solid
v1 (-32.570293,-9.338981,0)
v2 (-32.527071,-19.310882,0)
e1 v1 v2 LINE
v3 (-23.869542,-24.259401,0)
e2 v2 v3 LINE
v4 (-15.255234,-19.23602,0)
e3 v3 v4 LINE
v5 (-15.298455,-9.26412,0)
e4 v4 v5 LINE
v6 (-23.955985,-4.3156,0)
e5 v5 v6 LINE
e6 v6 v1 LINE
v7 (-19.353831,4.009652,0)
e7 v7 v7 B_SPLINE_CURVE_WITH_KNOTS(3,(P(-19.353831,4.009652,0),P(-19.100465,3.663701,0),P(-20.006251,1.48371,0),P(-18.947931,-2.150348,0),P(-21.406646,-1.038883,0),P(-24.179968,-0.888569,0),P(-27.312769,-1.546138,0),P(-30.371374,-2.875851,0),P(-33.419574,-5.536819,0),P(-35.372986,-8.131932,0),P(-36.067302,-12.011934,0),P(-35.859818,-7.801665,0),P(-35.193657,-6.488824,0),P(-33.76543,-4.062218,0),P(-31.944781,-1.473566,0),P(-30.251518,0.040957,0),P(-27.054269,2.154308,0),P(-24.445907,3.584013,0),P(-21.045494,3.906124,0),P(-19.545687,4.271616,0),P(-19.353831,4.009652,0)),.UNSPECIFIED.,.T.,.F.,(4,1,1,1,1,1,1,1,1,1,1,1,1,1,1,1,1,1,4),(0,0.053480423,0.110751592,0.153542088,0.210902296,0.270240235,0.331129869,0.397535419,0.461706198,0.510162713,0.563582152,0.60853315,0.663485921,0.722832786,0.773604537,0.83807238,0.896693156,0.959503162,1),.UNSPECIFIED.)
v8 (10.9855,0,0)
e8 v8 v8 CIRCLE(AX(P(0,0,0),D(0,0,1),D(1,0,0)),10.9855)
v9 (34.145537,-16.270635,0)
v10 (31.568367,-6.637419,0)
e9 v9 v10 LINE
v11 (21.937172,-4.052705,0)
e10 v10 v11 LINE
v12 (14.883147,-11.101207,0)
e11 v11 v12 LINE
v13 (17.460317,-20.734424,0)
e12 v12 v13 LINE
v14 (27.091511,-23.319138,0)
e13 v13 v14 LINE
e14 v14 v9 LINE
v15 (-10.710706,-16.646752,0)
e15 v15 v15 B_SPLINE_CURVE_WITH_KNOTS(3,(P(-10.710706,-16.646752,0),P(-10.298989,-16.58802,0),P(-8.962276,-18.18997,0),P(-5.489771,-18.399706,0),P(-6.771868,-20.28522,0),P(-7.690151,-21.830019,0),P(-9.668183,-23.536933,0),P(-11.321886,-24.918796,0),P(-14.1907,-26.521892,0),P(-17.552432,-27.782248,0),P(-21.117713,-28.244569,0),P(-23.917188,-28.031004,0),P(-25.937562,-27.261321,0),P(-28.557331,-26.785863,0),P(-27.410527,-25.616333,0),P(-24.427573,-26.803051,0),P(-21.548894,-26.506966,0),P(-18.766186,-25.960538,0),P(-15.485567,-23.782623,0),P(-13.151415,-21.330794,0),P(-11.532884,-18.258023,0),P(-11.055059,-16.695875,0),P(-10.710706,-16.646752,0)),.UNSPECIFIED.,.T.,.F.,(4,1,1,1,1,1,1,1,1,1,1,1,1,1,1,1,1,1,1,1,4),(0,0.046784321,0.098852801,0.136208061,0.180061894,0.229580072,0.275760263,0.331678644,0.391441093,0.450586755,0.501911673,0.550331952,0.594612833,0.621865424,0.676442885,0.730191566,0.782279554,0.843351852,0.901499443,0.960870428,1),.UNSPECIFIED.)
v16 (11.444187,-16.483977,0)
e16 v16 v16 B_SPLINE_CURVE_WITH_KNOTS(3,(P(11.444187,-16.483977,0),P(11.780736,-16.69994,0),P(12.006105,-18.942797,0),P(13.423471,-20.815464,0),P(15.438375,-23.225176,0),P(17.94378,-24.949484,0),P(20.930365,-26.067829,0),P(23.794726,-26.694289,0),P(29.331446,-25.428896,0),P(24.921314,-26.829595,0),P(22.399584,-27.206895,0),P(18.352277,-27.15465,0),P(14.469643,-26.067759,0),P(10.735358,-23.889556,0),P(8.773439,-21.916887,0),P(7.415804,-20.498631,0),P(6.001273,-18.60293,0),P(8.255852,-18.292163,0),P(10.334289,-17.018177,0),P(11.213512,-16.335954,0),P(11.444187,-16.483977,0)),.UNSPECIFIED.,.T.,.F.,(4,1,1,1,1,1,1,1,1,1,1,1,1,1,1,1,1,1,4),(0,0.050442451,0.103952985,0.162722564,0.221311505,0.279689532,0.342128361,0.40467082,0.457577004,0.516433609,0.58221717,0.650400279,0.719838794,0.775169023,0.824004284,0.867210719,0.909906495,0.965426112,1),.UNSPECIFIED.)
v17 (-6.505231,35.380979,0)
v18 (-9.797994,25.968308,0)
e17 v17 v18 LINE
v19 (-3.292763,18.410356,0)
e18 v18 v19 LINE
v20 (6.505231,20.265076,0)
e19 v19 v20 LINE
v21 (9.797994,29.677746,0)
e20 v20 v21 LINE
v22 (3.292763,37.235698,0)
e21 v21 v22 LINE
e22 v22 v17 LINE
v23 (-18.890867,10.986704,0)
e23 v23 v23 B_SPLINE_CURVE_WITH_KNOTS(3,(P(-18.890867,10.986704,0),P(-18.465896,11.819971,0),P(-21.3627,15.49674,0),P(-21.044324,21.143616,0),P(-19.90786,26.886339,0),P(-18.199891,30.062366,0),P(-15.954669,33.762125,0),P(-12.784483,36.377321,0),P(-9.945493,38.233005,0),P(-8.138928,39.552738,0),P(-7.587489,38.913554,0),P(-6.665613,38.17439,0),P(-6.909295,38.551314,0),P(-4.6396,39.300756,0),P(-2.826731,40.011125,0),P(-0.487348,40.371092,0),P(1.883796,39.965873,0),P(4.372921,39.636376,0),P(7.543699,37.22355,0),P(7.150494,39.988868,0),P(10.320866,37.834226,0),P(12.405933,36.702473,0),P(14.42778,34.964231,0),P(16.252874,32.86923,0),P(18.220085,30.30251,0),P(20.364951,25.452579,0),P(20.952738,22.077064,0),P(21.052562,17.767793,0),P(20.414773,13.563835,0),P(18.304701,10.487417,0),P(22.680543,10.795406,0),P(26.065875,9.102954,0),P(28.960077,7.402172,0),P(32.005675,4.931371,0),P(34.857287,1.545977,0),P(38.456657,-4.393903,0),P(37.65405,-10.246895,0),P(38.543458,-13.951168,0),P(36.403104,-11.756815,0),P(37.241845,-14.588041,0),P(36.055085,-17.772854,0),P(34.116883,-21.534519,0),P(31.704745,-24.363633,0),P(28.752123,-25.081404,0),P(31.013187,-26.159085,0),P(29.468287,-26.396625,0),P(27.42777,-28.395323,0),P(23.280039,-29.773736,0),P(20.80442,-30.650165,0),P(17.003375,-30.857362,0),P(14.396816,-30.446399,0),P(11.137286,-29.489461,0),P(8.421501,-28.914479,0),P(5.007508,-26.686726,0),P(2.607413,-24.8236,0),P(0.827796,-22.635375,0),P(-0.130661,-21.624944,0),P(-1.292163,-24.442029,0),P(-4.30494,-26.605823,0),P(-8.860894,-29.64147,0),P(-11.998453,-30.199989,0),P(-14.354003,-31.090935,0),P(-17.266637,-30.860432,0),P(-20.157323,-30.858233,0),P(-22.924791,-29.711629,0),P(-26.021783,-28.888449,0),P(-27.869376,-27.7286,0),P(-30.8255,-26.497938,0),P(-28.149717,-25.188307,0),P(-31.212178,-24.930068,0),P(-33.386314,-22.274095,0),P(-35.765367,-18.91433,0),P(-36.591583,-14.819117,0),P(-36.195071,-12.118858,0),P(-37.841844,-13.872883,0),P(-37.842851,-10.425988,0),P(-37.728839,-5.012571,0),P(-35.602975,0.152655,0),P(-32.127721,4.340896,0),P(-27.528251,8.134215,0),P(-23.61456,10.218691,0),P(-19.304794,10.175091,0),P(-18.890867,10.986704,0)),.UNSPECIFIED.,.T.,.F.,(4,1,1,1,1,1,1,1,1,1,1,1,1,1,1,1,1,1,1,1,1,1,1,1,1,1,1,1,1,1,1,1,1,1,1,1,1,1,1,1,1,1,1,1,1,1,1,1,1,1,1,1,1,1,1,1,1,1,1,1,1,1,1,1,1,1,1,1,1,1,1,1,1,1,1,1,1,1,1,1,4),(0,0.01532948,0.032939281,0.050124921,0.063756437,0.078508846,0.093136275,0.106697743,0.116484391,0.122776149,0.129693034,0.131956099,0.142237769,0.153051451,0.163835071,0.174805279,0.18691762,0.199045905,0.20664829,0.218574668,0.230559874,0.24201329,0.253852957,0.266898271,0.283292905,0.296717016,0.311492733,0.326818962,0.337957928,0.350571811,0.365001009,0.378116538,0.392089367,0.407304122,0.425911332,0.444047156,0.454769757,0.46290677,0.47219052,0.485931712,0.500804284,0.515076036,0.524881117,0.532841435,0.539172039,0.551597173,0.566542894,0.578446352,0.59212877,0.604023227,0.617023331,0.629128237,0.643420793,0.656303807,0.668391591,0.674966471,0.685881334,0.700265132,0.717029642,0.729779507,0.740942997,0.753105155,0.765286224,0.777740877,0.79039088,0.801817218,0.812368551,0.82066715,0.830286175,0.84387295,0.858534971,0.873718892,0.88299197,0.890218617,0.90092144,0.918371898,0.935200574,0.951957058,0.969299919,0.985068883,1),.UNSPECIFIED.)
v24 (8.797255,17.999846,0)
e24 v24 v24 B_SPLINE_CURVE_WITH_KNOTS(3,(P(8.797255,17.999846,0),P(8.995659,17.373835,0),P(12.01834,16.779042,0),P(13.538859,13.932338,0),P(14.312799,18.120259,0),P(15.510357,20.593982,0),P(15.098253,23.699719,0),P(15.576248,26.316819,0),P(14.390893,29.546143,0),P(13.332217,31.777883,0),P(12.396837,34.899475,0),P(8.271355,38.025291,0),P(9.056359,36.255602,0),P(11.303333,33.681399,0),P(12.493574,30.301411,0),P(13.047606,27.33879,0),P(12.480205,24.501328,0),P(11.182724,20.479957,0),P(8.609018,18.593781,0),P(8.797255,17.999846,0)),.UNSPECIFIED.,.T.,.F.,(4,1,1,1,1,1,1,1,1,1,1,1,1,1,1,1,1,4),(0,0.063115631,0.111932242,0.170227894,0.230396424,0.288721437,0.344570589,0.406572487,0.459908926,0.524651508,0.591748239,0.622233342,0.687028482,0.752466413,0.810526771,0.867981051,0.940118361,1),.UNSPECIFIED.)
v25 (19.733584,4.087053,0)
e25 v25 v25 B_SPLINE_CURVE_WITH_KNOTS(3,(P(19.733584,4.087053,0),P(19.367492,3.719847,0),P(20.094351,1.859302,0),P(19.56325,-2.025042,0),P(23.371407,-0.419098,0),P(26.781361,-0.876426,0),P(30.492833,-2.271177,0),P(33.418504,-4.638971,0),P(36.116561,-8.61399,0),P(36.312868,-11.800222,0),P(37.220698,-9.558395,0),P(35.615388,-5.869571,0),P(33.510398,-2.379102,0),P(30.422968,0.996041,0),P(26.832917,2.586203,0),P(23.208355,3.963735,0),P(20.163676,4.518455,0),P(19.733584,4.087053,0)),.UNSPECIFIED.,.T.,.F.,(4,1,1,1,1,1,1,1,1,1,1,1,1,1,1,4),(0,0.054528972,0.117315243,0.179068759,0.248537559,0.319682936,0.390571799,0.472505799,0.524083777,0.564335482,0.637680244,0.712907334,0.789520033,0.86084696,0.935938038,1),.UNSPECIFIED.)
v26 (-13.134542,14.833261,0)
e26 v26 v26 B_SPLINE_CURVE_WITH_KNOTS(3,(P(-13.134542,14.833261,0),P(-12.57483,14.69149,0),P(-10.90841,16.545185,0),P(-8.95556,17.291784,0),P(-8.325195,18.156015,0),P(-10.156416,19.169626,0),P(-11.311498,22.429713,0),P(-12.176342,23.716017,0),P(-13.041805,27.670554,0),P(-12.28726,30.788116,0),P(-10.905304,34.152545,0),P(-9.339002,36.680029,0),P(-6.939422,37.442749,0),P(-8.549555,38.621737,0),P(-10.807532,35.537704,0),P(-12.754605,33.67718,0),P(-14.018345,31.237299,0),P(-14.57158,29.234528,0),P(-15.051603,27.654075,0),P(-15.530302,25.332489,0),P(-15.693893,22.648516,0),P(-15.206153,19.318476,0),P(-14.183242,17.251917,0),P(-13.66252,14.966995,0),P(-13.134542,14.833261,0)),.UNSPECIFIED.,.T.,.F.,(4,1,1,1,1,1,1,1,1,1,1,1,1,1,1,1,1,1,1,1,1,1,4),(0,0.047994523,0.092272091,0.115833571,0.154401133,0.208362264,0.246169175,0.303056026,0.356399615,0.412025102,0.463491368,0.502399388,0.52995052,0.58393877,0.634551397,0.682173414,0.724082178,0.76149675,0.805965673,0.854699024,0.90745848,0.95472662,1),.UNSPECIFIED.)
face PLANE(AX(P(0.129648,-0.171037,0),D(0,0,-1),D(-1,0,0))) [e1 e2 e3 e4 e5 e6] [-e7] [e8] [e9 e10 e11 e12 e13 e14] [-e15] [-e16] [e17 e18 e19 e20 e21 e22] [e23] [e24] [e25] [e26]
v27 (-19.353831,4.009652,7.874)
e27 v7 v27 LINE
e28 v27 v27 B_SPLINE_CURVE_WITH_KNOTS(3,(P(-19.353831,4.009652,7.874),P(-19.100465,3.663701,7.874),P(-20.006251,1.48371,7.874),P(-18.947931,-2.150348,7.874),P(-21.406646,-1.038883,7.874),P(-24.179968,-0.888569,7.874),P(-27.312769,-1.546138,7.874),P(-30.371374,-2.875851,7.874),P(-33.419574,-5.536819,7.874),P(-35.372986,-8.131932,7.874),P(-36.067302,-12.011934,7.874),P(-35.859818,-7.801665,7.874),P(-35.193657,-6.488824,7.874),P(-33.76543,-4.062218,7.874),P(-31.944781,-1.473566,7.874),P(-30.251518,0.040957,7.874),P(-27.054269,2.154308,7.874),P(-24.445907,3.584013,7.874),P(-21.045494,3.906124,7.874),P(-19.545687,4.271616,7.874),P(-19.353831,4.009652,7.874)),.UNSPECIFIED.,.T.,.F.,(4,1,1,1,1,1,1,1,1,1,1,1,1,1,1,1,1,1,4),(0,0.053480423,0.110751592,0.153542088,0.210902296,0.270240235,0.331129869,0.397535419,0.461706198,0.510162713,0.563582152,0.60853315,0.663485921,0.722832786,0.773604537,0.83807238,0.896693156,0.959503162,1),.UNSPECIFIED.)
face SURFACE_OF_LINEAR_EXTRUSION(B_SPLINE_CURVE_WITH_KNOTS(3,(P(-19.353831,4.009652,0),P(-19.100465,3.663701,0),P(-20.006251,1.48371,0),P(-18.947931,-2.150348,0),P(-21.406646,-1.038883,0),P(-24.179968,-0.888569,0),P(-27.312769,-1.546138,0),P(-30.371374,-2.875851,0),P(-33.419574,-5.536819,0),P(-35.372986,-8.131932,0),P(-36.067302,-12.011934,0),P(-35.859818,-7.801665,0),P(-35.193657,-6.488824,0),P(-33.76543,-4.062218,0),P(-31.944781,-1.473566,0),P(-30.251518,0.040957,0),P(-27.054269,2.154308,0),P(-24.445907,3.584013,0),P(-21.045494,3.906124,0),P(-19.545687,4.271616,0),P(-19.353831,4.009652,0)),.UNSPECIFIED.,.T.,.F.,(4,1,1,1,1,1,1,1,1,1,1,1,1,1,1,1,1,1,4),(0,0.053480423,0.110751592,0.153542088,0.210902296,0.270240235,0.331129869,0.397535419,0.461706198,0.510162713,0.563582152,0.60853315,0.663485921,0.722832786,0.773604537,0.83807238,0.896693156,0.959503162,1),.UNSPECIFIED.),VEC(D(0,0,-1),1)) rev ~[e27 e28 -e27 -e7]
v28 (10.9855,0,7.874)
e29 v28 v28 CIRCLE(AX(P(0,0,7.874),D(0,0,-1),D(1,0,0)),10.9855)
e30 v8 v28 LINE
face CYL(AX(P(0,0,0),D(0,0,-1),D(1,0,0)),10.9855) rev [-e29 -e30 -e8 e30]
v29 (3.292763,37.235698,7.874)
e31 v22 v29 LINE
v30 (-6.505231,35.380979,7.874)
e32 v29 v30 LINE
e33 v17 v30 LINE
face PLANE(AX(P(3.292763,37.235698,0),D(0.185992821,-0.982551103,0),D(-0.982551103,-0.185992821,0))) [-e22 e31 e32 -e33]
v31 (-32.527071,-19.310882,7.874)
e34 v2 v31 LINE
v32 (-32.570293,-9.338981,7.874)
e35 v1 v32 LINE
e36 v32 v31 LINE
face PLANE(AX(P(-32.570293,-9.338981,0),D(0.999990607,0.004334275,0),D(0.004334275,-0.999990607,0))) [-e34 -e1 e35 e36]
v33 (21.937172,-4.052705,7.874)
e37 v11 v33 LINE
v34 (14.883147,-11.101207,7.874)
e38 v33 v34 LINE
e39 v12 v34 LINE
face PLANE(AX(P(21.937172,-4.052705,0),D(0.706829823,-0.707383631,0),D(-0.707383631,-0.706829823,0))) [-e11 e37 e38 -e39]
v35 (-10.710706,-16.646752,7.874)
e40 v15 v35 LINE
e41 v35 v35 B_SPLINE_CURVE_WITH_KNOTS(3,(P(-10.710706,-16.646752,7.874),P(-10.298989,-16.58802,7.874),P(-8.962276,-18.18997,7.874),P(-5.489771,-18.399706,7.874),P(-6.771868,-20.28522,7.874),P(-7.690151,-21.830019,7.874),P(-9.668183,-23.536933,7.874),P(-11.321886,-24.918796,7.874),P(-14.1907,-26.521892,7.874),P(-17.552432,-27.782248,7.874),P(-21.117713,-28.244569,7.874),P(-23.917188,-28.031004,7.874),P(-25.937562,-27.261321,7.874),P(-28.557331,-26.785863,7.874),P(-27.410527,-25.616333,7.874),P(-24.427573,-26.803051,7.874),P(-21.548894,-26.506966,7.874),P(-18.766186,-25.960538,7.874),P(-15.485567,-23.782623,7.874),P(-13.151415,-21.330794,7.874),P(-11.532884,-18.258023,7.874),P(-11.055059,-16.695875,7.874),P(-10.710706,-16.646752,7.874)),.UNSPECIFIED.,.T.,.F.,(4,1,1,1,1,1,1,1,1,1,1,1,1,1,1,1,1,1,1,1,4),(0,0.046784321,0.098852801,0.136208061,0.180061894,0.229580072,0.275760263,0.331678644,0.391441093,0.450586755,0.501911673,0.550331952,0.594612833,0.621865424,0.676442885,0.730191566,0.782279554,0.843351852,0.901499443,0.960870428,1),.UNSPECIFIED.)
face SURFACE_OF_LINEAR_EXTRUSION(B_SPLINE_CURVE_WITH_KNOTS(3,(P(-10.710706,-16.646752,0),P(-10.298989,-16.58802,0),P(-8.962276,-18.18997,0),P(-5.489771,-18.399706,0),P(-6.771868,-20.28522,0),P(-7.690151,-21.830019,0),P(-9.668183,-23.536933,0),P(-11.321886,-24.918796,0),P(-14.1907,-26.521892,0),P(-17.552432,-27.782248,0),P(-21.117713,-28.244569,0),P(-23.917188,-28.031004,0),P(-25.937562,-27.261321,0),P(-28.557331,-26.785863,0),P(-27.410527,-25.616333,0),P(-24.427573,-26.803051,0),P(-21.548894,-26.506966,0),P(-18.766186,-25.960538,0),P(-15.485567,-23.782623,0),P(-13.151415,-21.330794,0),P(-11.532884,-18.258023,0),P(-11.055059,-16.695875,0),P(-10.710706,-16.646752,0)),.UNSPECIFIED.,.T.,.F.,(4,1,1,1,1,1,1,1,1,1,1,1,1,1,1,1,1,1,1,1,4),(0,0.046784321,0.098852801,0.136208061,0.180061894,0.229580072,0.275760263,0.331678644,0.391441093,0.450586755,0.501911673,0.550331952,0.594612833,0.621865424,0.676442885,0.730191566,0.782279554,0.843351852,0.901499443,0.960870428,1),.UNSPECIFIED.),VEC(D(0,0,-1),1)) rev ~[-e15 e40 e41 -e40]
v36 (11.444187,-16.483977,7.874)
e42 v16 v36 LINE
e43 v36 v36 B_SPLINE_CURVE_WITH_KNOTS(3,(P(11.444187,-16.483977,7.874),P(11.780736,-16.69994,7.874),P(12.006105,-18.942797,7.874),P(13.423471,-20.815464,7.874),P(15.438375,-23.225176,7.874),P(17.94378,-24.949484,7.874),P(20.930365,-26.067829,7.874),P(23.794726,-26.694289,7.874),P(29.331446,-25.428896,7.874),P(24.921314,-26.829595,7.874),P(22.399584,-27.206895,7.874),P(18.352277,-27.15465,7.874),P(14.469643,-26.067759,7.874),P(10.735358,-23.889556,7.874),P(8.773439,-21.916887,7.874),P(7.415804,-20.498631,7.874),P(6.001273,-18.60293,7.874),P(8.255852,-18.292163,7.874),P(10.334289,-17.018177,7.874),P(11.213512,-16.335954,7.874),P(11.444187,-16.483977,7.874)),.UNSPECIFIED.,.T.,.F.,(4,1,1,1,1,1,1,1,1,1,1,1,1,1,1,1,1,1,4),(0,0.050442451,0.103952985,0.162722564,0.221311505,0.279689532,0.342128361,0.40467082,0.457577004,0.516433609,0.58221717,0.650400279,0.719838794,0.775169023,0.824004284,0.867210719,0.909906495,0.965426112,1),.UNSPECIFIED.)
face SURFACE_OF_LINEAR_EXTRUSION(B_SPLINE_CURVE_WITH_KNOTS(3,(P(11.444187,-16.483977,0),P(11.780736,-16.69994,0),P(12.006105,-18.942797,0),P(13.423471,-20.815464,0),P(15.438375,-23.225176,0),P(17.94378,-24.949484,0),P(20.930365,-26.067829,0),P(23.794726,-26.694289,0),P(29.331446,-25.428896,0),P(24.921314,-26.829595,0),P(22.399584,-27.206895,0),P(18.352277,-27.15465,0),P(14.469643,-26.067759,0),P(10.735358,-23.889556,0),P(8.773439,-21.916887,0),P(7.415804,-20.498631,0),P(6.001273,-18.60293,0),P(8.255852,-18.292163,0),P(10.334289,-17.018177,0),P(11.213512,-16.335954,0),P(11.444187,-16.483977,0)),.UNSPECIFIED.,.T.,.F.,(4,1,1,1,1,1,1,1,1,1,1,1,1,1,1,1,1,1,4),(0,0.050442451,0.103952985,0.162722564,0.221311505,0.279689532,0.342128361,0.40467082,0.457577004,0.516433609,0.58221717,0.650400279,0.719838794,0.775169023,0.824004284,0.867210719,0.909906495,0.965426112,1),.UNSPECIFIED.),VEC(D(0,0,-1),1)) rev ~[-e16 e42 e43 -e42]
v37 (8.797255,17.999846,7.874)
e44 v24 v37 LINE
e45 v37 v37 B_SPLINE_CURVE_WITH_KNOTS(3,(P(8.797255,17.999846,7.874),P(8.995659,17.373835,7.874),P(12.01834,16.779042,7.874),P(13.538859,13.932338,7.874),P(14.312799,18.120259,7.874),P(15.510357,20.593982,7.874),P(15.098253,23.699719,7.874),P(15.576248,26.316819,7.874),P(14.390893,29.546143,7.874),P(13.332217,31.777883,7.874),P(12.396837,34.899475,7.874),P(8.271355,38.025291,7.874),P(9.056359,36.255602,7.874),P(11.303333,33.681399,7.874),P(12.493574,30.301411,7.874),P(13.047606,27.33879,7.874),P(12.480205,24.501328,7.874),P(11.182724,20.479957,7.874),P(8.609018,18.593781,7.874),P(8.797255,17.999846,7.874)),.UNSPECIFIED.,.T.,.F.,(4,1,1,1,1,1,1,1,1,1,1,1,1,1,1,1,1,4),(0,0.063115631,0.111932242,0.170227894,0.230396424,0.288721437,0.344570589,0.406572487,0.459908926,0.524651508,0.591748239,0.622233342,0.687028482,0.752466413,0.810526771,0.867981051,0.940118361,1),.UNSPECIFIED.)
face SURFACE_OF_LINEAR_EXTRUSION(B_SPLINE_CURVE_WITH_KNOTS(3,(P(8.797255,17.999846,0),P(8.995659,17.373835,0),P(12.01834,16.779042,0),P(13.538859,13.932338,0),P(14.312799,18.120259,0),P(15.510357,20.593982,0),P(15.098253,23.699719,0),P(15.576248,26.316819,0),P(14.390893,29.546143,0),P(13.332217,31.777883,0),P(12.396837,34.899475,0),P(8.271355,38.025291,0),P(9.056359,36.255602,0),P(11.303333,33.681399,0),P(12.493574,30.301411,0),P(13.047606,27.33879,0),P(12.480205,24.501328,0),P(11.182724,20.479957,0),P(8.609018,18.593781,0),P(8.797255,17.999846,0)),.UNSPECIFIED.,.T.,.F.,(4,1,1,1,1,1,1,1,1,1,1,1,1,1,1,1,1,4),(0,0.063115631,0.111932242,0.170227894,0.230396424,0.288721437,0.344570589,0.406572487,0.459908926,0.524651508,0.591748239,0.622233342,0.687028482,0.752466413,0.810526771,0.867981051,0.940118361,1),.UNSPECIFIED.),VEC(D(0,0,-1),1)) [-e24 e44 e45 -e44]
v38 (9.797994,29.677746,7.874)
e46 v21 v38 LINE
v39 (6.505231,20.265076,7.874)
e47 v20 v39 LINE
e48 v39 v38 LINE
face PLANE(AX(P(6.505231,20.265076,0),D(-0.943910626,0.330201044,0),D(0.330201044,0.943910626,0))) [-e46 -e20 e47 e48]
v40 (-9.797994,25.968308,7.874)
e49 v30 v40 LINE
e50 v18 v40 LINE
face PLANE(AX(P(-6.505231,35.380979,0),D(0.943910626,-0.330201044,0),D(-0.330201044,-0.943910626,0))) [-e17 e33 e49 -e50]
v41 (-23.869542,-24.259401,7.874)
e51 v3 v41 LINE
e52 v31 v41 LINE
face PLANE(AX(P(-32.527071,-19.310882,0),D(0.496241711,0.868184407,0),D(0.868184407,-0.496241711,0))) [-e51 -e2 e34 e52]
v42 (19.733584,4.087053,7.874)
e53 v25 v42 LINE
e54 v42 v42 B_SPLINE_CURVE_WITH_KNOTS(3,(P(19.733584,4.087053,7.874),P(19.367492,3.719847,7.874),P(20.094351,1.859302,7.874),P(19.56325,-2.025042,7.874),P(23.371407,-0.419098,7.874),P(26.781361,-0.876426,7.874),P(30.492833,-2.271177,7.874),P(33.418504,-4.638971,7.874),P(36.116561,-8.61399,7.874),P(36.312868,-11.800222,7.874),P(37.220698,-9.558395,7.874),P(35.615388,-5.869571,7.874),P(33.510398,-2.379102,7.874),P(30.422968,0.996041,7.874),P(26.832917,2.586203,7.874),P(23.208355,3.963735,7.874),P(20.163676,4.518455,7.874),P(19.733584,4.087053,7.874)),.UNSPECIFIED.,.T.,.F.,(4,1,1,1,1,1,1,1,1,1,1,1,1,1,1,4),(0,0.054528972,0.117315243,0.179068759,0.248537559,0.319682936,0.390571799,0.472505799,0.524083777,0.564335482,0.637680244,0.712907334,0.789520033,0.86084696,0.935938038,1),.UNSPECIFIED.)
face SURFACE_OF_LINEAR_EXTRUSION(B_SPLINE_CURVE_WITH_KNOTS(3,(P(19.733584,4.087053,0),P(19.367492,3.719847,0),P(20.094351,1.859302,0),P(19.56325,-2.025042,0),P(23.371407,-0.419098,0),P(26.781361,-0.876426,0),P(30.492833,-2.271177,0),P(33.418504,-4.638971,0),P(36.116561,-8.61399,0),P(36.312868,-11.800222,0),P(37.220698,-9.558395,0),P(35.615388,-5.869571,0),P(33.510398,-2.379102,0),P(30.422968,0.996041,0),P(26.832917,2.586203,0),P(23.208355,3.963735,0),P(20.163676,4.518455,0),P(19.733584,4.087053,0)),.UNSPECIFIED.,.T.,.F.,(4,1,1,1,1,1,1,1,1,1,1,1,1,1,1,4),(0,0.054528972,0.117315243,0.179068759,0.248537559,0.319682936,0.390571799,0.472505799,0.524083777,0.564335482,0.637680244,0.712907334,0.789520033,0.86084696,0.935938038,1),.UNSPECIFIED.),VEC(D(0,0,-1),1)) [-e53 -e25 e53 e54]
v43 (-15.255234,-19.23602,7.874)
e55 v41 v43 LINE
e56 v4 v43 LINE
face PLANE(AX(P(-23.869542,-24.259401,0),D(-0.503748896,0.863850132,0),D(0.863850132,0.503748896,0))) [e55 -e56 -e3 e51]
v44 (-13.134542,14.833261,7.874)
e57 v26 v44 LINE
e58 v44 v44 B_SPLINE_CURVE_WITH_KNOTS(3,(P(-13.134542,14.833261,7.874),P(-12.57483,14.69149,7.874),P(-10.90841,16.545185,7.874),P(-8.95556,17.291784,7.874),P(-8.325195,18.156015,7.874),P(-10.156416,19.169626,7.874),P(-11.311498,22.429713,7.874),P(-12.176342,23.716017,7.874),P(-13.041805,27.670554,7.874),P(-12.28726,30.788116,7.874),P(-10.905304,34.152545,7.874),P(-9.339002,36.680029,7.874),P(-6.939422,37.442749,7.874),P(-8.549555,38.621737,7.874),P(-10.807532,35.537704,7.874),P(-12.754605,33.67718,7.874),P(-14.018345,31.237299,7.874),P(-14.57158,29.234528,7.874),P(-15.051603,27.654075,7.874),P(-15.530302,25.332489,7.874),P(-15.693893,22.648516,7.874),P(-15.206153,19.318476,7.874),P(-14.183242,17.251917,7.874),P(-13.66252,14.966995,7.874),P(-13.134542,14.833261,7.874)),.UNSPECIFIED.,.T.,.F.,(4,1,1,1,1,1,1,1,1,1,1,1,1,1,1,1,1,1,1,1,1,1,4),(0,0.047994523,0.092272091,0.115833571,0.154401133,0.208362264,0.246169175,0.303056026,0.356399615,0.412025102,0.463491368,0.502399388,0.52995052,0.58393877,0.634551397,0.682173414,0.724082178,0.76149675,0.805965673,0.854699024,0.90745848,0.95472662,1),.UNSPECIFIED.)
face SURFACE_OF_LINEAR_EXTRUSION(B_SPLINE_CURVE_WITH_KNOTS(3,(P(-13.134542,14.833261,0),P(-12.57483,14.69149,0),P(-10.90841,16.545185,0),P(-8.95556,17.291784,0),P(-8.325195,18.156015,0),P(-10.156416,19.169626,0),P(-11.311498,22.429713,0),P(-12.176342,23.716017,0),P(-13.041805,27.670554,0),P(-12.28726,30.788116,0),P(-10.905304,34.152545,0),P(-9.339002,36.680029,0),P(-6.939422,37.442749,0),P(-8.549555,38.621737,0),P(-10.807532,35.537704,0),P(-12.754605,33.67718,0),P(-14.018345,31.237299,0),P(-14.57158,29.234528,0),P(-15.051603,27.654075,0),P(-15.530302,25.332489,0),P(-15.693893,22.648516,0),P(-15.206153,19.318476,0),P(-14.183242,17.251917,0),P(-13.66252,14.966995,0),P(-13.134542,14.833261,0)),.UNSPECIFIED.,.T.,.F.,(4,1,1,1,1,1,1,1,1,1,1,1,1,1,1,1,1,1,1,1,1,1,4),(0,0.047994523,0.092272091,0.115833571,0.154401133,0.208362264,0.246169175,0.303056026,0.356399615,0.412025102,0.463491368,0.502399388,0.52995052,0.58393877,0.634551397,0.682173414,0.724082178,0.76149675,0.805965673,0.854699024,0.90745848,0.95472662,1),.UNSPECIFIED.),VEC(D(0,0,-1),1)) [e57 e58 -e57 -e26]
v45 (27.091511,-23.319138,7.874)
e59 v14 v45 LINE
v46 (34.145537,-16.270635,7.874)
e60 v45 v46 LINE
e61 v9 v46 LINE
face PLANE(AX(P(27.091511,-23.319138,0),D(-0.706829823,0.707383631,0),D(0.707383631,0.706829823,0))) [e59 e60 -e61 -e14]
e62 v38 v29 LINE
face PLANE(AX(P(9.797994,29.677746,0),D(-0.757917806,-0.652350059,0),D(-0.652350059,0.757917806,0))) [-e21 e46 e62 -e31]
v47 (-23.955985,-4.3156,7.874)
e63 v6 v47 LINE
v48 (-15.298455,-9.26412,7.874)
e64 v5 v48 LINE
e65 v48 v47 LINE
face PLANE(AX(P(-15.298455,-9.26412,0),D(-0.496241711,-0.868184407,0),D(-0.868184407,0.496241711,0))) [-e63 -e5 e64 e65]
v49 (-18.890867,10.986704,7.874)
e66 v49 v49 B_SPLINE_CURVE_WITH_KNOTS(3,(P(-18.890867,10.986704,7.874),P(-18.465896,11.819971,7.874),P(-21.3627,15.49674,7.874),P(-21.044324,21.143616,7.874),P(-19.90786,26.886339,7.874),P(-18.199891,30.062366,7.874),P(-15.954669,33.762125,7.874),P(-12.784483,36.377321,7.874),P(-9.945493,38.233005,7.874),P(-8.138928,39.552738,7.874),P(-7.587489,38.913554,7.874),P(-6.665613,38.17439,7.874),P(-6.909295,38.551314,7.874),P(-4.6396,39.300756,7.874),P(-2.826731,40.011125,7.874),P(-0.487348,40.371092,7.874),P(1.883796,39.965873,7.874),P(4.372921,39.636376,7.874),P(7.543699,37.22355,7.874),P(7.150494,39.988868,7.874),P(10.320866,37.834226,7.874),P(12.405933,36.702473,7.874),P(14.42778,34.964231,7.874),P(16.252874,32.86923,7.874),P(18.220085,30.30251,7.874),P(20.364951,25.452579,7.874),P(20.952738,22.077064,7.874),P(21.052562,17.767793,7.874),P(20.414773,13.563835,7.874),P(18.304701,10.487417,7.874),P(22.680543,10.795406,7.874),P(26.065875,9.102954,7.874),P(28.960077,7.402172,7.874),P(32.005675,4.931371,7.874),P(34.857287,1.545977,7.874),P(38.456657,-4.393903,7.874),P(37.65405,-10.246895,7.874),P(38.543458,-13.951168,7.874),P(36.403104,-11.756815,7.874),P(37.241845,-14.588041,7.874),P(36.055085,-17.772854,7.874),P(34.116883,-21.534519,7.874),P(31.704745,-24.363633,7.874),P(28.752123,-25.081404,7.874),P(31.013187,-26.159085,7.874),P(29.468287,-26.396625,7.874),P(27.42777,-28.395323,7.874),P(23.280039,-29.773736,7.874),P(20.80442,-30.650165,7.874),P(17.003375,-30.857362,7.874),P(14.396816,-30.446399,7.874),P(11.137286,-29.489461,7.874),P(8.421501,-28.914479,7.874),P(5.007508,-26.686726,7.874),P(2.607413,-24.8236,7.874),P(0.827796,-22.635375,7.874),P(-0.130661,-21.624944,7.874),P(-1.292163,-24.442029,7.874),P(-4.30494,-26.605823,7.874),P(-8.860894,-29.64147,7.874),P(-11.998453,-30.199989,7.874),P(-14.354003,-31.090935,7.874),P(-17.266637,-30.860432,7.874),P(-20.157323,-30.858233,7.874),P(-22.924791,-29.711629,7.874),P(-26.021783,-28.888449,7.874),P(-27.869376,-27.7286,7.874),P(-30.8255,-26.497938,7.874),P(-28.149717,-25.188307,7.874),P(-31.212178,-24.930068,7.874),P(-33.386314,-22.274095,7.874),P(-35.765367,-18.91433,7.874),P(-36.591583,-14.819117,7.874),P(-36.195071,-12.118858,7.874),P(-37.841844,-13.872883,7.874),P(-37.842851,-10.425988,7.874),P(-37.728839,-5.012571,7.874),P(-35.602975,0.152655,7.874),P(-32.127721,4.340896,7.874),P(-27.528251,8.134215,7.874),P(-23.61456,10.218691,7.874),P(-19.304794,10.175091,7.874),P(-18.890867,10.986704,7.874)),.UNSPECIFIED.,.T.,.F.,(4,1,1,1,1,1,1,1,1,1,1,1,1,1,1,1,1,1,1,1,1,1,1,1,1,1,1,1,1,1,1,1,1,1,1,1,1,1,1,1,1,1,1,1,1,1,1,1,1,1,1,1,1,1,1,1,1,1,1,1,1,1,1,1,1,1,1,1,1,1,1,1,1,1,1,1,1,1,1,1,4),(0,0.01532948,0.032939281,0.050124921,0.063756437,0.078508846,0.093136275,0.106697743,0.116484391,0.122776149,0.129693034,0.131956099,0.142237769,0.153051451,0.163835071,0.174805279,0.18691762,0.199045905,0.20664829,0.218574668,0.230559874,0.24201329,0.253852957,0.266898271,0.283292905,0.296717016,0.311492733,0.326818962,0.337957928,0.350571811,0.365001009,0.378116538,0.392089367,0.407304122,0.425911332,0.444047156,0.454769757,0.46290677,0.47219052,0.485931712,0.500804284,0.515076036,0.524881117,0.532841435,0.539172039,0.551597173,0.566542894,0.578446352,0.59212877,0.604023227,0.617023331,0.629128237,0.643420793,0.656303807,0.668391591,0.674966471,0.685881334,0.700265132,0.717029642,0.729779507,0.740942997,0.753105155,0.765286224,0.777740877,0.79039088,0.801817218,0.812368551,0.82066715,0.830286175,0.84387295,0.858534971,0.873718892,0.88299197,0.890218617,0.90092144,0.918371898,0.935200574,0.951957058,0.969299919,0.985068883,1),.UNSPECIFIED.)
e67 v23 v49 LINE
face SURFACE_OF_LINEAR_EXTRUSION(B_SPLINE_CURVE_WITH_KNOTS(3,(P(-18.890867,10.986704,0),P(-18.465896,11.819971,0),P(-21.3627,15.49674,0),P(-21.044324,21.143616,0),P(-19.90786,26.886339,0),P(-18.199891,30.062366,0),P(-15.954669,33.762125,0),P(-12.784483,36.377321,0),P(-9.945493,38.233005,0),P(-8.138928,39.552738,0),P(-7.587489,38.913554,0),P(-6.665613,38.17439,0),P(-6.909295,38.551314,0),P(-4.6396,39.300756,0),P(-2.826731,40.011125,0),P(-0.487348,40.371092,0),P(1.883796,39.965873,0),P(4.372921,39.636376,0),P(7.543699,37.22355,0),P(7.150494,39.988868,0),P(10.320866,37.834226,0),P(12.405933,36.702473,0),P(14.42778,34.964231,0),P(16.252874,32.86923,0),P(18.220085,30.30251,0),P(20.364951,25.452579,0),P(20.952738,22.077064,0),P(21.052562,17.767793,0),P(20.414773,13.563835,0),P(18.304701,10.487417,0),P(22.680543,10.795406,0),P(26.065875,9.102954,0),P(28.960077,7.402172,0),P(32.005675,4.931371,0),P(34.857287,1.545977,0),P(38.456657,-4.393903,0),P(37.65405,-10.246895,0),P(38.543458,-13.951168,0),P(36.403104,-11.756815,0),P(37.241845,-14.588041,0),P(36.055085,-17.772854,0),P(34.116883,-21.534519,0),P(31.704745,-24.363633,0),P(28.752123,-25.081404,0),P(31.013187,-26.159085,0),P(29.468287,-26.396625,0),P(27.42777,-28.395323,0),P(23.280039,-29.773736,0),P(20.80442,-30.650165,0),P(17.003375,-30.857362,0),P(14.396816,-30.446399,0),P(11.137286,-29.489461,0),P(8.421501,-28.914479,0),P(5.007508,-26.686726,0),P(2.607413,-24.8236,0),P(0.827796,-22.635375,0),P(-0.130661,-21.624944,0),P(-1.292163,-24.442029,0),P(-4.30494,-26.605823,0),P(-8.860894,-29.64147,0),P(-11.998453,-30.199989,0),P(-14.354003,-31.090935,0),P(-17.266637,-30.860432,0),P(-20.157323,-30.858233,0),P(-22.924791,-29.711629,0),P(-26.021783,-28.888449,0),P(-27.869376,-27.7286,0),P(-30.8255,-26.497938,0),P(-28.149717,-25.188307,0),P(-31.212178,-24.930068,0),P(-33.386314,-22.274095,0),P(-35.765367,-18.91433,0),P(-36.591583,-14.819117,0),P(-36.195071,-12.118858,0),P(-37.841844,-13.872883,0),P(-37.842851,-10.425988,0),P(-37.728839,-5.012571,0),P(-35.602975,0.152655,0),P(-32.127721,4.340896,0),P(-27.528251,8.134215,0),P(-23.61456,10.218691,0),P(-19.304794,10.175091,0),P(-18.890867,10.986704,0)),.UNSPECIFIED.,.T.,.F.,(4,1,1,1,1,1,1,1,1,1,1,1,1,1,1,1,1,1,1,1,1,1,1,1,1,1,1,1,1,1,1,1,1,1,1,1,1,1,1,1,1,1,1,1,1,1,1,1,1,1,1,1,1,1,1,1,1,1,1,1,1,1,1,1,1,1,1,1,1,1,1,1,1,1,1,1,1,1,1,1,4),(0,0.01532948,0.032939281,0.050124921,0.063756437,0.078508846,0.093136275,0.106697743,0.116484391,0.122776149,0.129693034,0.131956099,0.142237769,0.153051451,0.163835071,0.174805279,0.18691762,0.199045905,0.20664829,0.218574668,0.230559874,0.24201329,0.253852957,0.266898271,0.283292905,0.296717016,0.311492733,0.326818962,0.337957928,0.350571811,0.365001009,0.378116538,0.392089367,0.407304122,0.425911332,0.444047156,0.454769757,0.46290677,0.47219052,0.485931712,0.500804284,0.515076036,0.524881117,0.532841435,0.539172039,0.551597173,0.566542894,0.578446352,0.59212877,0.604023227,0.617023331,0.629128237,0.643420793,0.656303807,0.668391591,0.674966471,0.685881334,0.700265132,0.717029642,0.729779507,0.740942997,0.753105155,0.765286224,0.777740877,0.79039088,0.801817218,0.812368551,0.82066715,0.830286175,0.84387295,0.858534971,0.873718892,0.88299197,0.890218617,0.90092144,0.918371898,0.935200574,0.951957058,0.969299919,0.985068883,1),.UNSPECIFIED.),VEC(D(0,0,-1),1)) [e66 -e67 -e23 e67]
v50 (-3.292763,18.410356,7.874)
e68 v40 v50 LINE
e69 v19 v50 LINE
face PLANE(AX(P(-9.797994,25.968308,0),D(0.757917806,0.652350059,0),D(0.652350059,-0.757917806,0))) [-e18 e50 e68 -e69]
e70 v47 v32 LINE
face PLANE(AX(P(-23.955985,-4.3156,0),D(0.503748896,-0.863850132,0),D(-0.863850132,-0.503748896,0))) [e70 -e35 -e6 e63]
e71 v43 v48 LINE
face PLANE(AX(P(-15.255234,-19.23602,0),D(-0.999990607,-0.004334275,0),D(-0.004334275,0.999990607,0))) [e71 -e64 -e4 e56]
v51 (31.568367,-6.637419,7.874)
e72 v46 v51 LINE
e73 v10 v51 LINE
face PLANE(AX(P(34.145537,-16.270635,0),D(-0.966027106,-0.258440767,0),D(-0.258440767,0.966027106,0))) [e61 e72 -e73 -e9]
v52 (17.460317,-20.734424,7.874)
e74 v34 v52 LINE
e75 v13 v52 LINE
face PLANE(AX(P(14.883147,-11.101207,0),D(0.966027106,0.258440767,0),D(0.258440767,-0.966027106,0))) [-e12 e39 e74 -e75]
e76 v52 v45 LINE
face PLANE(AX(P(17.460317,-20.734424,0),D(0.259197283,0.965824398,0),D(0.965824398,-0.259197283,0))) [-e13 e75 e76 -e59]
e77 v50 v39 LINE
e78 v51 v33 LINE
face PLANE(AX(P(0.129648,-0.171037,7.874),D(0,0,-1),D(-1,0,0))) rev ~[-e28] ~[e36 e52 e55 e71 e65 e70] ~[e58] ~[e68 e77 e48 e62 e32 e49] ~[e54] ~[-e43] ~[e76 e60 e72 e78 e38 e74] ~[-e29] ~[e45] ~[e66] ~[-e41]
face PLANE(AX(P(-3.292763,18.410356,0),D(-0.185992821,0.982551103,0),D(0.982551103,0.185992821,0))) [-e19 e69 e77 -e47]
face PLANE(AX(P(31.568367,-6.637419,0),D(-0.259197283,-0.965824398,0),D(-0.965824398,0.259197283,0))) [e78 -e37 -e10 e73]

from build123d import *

# Parameters (mm, degrees)
F2_DEPTH = 7.874
F0_R     = 10.9855
F4_DEPTH = 49.53
F5_DEPTH = 41.402


with BuildPart() as f2:
    # F1 (on Top) → F2 (new body)
    with BuildSketch(Plane.XY):
        with BuildLine():
            add(Edge.make_bspline(
                [(-18.8908670098, 10.9867043793), (-18.4658961968, 11.8199711513), (-21.3627002464, 15.4967400859), (-21.0443238153, 21.1436163423), (-19.9078597285, 26.8863387397), (-18.1998908276, 30.0623664689), (-15.954669144, 33.7621245721), (-12.7844833945, 36.3773208045), (-9.9454929636, 38.2330049472), (-8.1389283488, 39.5527380672), (-7.5874885712, 38.9135540155), (-6.6656134694, 38.1743901688), (-6.9092948211, 38.5513141312), (-4.6396001716, 39.3007557358), (-2.8267313851, 40.0111246032), (-0.4873475795, 40.3710915802), (1.8837961585, 39.9658727934), (4.3729213998, 39.6363764226), (7.5436987253, 37.2235502129), (7.15049395, 39.9888677541), (10.3208664119, 37.8342255648), (12.4059329471, 36.7024729025), (14.427780204, 34.9642305913), (16.2528737733, 32.8692297379), (18.2200852246, 30.3025104795), (20.3649505342, 25.4525786949), (20.9527377609, 22.0770638462), (21.0525623053, 17.7677929976), (20.4147731464, 13.563835154), (18.3047010732, 10.4874170503), (22.6805426444, 10.7954057113), (26.065874663, 9.1029543919), (28.960077058, 7.4021721071), (32.0056749458, 4.9313714185), (34.8572867467, 1.5459772044), (38.4566567075, -4.3939032357), (37.6540503672, -10.2468948787), (38.5434576384, -13.9511676896), (36.4031042885, -11.7568153465), (37.2418446532, -14.5880414565), (36.055084604, -17.7728540683), (34.1168829396, -21.5345193663), (31.7047451205, -24.3636329859), (28.7521233667, -25.0814035855), (31.0131865597, -26.1590852597), (29.4682872511, -26.3966246587), (27.4277700123, -28.3953228692), (23.2800392027, -29.7737363398), (20.8044204154, -30.6501652961), (17.0033746309, -30.8573621983), (14.3968158515, -30.4463989921), (11.1372855067, -29.4894610263), (8.4215007615, -28.9144792448), (5.0075084464, -26.6867263597), (2.6074134956, -24.8235995742), (0.8277955427, -22.635375105), (-0.1306608099, -21.6249444367), (-1.292163166, -24.4420292008), (-4.3049397986, -26.6058229424), (-8.860893711, -29.641469994), (-11.9984528761, -30.1999890201), (-14.3540026321, -31.0909350555), (-17.2666370202, -30.8604322186), (-20.157323297, -30.8582326391), (-22.9247911241, -29.7116289964), (-26.0217834589, -28.8884492589), (-27.8693757698, -27.7285998571), (-30.8255000485, -26.4979382966), (-28.1497167301, -25.1883067399), (-31.2121780031, -24.9300677407), (-33.3863143156, -22.2740946244), (-35.7653668411, -18.9143300637), (-36.5915825405, -14.8191168196), (-36.195070852, -12.1188583166), (-37.8418442016, -13.8728825013), (-37.842851004, -10.4259880493), (-37.7288390804, -5.0125707748), (-35.6029749897, 0.1526549302), (-32.1277207939, 4.3408963143), (-27.5282510934, 8.1342149169), (-23.614559951, 10.2186914099), (-19.3047942183, 10.1750914912), (-18.8908670098, 10.9867043793)],
                knots=[0, 0, 0, 0, 0.0153294798, 0.0329392806, 0.0501249212, 0.0637564373, 0.0785088464, 0.0931362746, 0.1066977427, 0.116484391, 0.1227761494, 0.1296930345, 0.1319560989, 0.1422377691, 0.1530514506, 0.1638350713, 0.1748052794, 0.1869176205, 0.1990459046, 0.2066482905, 0.2185746679, 0.2305598744, 0.2420132895, 0.2538529565, 0.2668982712, 0.2832929054, 0.2967170163, 0.3114927333, 0.326818962, 0.3379579282, 0.3505718115, 0.3650010086, 0.3781165381, 0.392089367, 0.4073041219, 0.4259113324, 0.4440471557, 0.4547697573, 0.4629067702, 0.4721905201, 0.4859317123, 0.500804284, 0.5150760361, 0.5248811169, 0.5328414347, 0.5391720392, 0.5515971733, 0.5665428938, 0.578446352, 0.5921287697, 0.6040232272, 0.6170233312, 0.6291282373, 0.6434207931, 0.6563038067, 0.6683915909, 0.6749664705, 0.6858813344, 0.7002651325, 0.7170296424, 0.7297795073, 0.7409429967, 0.7531051551, 0.765286224, 0.7777408772, 0.7903908805, 0.8018172184, 0.8123685507, 0.8206671501, 0.8302861748, 0.8438729502, 0.8585349714, 0.8737188916, 0.8829919696, 0.8902186167, 0.9009214403, 0.9183718982, 0.9352005744, 0.9519570576, 0.969299919, 0.9850688833, 1, 1, 1, 1], degree=3))
        make_face()
        with BuildLine():
            add(Edge.make_bspline(
                [(-10.710706003, -16.646752134), (-10.2989887473, -16.5880198763), (-8.9622758088, -18.1899704298), (-5.4897707632, -18.3997057264), (-6.7718678655, -20.2852201092), (-7.6901508737, -21.8300189629), (-9.6681831246, -23.5369333138), (-11.3218858163, -24.9187955436), (-14.1907002429, -26.5218922501), (-17.5524319194, -27.7822481774), (-21.1177130754, -28.2445694022), (-23.9171883148, -28.0310044692), (-25.9375619042, -27.2613211679), (-28.5573310849, -26.7858626342), (-27.4105272086, -25.6163328612), (-24.4275730044, -26.8030509277), (-21.5488937721, -26.5069660274), (-18.7661863814, -25.9605375855), (-15.4855673611, -23.7826232617), (-13.1514153723, -21.3307938815), (-11.5328838446, -18.2580229322), (-11.0550589743, -16.695874747), (-10.710706003, -16.646752134)],
                knots=[0, 0, 0, 0, 0.0467843214, 0.0988528009, 0.1362080612, 0.1800618939, 0.2295800715, 0.2757602626, 0.3316786436, 0.3914410934, 0.4505867555, 0.501911673, 0.5503319521, 0.5946128332, 0.6218654244, 0.6764428855, 0.7301915659, 0.7822795544, 0.8433518524, 0.9014994432, 0.9608704278, 1, 1, 1, 1], degree=3))
        make_face(mode=Mode.SUBTRACT)
        with BuildLine():
            add(Edge.make_bspline(
                [(-19.3538311869, 4.0096519515), (-19.1004646169, 3.6637009422), (-20.0062512259, 1.4837099962), (-18.9479312948, -2.1503476589), (-21.4066457464, -1.0388830319), (-24.1799680923, -0.8885688601), (-27.3127689174, -1.546137924), (-30.3713744751, -2.8758512769), (-33.4195735353, -5.5368189918), (-35.3729860609, -8.1319321703), (-36.0673017217, -12.011934313), (-35.8598182749, -7.8016651725), (-35.1936574345, -6.488824246), (-33.7654296306, -4.0622183055), (-31.9447811517, -1.473566371), (-30.2515182542, 0.0409573858), (-27.0542690373, 2.1543076677), (-24.4459069906, 3.5840132208), (-21.0454940807, 3.9061244171), (-19.5456872784, 4.2716155108), (-19.3538311869, 4.0096519515)],
                knots=[0, 0, 0, 0, 0.0534804234, 0.1107515923, 0.1535420879, 0.2109022963, 0.2702402347, 0.3311298694, 0.3975354194, 0.4617061977, 0.5101627129, 0.563582152, 0.6085331497, 0.6634859207, 0.7228327857, 0.7736045367, 0.8380723801, 0.8966931564, 0.9595031617, 1, 1, 1, 1], degree=3))
        make_face(mode=Mode.SUBTRACT)
        with BuildLine():
            add(Edge.make_bspline(
                [(11.4441867918, -16.483977437), (11.7807356823, -16.6999399345), (12.0061046954, -18.9427971265), (13.4234705253, -20.8154636929), (15.4383750529, -23.2251757408), (17.9437804462, -24.9494844405), (20.930365072, -26.067829395), (23.794726484, -26.6942886856), (29.3314459974, -25.4288959424), (24.9213143855, -26.8295947233), (22.3995844708, -27.2068947646), (18.3522772182, -27.1546495508), (14.4696425645, -26.0677589532), (10.7353577304, -23.8895561595), (8.773439284, -21.9168871417), (7.4158043741, -20.4986312618), (6.001272841, -18.6029298313), (8.2558519156, -18.2921633321), (10.3342894582, -17.0181765033), (11.2135119675, -16.3359540366), (11.4441867918, -16.483977437)],
                knots=[0, 0, 0, 0, 0.0504424512, 0.1039529846, 0.1627225638, 0.2213115047, 0.279689532, 0.3421283606, 0.4046708205, 0.4575770041, 0.5164336094, 0.5822171704, 0.6504002787, 0.7198387941, 0.7751690232, 0.8240042837, 0.8672107195, 0.9099064951, 0.9654261123, 1, 1, 1, 1], degree=3))
        make_face(mode=Mode.SUBTRACT)
        with BuildLine():
            add(Edge.make_bspline(
                [(19.7335835546, 4.0870527737), (19.3674923338, 3.7198471394), (20.0943514211, 1.8593018685), (19.5632499092, -2.0250417782), (23.3714071945, -0.4190978467), (26.781361401, -0.8764263655), (30.4928328984, -2.2711773029), (33.4185041684, -4.6389714387), (36.1165609146, -8.6139904358), (36.3128683446, -11.8002220163), (37.2206982778, -9.5583948997), (35.6153877383, -5.8695709239), (33.5103979805, -2.3791016748), (30.4229684219, 0.996040848), (26.8329168746, 2.5862033008), (23.2083546801, 3.9637351623), (20.163676424, 4.5184548831), (19.7335835546, 4.0870527737)],
                knots=[0, 0, 0, 0, 0.0545289721, 0.1173152428, 0.1790687585, 0.2485375594, 0.3196829357, 0.3905717995, 0.4725057985, 0.5240837767, 0.5643354817, 0.637680244, 0.7129073345, 0.7895200335, 0.86084696, 0.9359380375, 1, 1, 1, 1], degree=3))
        make_face(mode=Mode.SUBTRACT)
        with BuildLine():
            add(Edge.make_bspline(
                [(-13.1345419213, 14.8332612589), (-12.5748297363, 14.6914897288), (-10.9084100723, 16.5451845607), (-8.9555597726, 17.2917844977), (-8.3251946392, 18.15601528), (-10.1564159511, 19.169625821), (-11.3114976554, 22.4297130448), (-12.1763421264, 23.7160169936), (-13.0418050426, 27.6705536693), (-12.2872601956, 30.7881163307), (-10.9053044088, 34.1525447787), (-9.339002471, 36.6800285021), (-6.9394224351, 37.4427491922), (-8.549555294, 38.6217368259), (-10.8075321066, 35.5377035849), (-12.7546052653, 33.6771800756), (-14.0183450174, 31.2372989078), (-14.5715803799, 29.2345275926), (-15.0516027166, 27.6540746479), (-15.5303022064, 25.3324888669), (-15.6938931419, 22.6485156565), (-15.2061531525, 19.3184755261), (-14.183241591, 17.2519166694), (-13.6625201318, 14.9669947754), (-13.1345419213, 14.8332612589)],
                knots=[0, 0, 0, 0, 0.0479945231, 0.0922720905, 0.1158335714, 0.1544011334, 0.2083622639, 0.2461691754, 0.3030560262, 0.3563996152, 0.4120251018, 0.4634913676, 0.5023993883, 0.5299505203, 0.5839387702, 0.6345513967, 0.6821734142, 0.724082178, 0.7614967503, 0.8059656729, 0.8546990238, 0.9074584802, 0.95472662, 1, 1, 1, 1], degree=3))
        make_face(mode=Mode.SUBTRACT)
        with BuildLine():
            add(Edge.make_bspline(
                [(8.7972553447, 17.9998464882), (8.9956585573, 17.3738352185), (12.0183402324, 16.7790415713), (13.5388592915, 13.9323383567), (14.3127986663, 18.1202591905), (15.5103569219, 20.5939817622), (15.098253099, 23.6997190662), (15.5762481292, 26.3168192084), (14.39089284, 29.5461427929), (13.3322173512, 31.7778826265), (12.3968373601, 34.8994753261), (8.2713551904, 38.0252909693), (9.0563591642, 36.2556016743), (11.3033325185, 33.681398738), (12.4935735504, 30.3014106007), (13.0476064746, 27.338789746), (12.4802049247, 24.5013282548), (11.1827235017, 20.4799567859), (8.6090181463, 18.5937814656), (8.7972553447, 17.9998464882)],
                knots=[0, 0, 0, 0, 0.0631156308, 0.1119322424, 0.1702278936, 0.2303964243, 0.2887214372, 0.3445705889, 0.4065724866, 0.4599089261, 0.5246515078, 0.5917482394, 0.6222333417, 0.6870284817, 0.7524664133, 0.8105267707, 0.8679810509, 0.9401183612, 1, 1, 1, 1], degree=3))
        make_face(mode=Mode.SUBTRACT)
    extrude(amount=F2_DEPTH)

    # F0 (on Top) → F4 (cut)
    with BuildSketch(Plane.XY):
        Circle(F0_R)
    extrude(amount=F4_DEPTH, mode=Mode.SUBTRACT)

    # F3 (on Top) → F5 (cut)
    with BuildSketch(Plane.XY):
        Polygon((6.5052307806, 20.2650755283), (9.7979935588, 29.6777464893), (3.2927627781, 37.2356981844), (-6.5052307806, 35.3809789184), (-9.7979935588, 25.9683079574), (-3.2927627781, 18.4103562623), align=None)
        Polygon((-23.8695418559, -24.2594008246), (-15.2552336576, -19.2360199315), (-15.2984550247, -9.2641197492), (-23.9559845902, -4.3156004599), (-32.5702927885, -9.338981353), (-32.5270714214, -19.3108815353), align=None)
        Polygon((27.0915114677, -23.3191375682), (34.1455366862, -16.2706349223), (31.5683669454, -6.6374185611), (21.9371719861, -4.0527048459), (14.8831467676, -11.1012074919), (17.4603165084, -20.734423853), align=None)
    extrude(amount=F5_DEPTH, mode=Mode.SUBTRACT)


solid = f2.part
